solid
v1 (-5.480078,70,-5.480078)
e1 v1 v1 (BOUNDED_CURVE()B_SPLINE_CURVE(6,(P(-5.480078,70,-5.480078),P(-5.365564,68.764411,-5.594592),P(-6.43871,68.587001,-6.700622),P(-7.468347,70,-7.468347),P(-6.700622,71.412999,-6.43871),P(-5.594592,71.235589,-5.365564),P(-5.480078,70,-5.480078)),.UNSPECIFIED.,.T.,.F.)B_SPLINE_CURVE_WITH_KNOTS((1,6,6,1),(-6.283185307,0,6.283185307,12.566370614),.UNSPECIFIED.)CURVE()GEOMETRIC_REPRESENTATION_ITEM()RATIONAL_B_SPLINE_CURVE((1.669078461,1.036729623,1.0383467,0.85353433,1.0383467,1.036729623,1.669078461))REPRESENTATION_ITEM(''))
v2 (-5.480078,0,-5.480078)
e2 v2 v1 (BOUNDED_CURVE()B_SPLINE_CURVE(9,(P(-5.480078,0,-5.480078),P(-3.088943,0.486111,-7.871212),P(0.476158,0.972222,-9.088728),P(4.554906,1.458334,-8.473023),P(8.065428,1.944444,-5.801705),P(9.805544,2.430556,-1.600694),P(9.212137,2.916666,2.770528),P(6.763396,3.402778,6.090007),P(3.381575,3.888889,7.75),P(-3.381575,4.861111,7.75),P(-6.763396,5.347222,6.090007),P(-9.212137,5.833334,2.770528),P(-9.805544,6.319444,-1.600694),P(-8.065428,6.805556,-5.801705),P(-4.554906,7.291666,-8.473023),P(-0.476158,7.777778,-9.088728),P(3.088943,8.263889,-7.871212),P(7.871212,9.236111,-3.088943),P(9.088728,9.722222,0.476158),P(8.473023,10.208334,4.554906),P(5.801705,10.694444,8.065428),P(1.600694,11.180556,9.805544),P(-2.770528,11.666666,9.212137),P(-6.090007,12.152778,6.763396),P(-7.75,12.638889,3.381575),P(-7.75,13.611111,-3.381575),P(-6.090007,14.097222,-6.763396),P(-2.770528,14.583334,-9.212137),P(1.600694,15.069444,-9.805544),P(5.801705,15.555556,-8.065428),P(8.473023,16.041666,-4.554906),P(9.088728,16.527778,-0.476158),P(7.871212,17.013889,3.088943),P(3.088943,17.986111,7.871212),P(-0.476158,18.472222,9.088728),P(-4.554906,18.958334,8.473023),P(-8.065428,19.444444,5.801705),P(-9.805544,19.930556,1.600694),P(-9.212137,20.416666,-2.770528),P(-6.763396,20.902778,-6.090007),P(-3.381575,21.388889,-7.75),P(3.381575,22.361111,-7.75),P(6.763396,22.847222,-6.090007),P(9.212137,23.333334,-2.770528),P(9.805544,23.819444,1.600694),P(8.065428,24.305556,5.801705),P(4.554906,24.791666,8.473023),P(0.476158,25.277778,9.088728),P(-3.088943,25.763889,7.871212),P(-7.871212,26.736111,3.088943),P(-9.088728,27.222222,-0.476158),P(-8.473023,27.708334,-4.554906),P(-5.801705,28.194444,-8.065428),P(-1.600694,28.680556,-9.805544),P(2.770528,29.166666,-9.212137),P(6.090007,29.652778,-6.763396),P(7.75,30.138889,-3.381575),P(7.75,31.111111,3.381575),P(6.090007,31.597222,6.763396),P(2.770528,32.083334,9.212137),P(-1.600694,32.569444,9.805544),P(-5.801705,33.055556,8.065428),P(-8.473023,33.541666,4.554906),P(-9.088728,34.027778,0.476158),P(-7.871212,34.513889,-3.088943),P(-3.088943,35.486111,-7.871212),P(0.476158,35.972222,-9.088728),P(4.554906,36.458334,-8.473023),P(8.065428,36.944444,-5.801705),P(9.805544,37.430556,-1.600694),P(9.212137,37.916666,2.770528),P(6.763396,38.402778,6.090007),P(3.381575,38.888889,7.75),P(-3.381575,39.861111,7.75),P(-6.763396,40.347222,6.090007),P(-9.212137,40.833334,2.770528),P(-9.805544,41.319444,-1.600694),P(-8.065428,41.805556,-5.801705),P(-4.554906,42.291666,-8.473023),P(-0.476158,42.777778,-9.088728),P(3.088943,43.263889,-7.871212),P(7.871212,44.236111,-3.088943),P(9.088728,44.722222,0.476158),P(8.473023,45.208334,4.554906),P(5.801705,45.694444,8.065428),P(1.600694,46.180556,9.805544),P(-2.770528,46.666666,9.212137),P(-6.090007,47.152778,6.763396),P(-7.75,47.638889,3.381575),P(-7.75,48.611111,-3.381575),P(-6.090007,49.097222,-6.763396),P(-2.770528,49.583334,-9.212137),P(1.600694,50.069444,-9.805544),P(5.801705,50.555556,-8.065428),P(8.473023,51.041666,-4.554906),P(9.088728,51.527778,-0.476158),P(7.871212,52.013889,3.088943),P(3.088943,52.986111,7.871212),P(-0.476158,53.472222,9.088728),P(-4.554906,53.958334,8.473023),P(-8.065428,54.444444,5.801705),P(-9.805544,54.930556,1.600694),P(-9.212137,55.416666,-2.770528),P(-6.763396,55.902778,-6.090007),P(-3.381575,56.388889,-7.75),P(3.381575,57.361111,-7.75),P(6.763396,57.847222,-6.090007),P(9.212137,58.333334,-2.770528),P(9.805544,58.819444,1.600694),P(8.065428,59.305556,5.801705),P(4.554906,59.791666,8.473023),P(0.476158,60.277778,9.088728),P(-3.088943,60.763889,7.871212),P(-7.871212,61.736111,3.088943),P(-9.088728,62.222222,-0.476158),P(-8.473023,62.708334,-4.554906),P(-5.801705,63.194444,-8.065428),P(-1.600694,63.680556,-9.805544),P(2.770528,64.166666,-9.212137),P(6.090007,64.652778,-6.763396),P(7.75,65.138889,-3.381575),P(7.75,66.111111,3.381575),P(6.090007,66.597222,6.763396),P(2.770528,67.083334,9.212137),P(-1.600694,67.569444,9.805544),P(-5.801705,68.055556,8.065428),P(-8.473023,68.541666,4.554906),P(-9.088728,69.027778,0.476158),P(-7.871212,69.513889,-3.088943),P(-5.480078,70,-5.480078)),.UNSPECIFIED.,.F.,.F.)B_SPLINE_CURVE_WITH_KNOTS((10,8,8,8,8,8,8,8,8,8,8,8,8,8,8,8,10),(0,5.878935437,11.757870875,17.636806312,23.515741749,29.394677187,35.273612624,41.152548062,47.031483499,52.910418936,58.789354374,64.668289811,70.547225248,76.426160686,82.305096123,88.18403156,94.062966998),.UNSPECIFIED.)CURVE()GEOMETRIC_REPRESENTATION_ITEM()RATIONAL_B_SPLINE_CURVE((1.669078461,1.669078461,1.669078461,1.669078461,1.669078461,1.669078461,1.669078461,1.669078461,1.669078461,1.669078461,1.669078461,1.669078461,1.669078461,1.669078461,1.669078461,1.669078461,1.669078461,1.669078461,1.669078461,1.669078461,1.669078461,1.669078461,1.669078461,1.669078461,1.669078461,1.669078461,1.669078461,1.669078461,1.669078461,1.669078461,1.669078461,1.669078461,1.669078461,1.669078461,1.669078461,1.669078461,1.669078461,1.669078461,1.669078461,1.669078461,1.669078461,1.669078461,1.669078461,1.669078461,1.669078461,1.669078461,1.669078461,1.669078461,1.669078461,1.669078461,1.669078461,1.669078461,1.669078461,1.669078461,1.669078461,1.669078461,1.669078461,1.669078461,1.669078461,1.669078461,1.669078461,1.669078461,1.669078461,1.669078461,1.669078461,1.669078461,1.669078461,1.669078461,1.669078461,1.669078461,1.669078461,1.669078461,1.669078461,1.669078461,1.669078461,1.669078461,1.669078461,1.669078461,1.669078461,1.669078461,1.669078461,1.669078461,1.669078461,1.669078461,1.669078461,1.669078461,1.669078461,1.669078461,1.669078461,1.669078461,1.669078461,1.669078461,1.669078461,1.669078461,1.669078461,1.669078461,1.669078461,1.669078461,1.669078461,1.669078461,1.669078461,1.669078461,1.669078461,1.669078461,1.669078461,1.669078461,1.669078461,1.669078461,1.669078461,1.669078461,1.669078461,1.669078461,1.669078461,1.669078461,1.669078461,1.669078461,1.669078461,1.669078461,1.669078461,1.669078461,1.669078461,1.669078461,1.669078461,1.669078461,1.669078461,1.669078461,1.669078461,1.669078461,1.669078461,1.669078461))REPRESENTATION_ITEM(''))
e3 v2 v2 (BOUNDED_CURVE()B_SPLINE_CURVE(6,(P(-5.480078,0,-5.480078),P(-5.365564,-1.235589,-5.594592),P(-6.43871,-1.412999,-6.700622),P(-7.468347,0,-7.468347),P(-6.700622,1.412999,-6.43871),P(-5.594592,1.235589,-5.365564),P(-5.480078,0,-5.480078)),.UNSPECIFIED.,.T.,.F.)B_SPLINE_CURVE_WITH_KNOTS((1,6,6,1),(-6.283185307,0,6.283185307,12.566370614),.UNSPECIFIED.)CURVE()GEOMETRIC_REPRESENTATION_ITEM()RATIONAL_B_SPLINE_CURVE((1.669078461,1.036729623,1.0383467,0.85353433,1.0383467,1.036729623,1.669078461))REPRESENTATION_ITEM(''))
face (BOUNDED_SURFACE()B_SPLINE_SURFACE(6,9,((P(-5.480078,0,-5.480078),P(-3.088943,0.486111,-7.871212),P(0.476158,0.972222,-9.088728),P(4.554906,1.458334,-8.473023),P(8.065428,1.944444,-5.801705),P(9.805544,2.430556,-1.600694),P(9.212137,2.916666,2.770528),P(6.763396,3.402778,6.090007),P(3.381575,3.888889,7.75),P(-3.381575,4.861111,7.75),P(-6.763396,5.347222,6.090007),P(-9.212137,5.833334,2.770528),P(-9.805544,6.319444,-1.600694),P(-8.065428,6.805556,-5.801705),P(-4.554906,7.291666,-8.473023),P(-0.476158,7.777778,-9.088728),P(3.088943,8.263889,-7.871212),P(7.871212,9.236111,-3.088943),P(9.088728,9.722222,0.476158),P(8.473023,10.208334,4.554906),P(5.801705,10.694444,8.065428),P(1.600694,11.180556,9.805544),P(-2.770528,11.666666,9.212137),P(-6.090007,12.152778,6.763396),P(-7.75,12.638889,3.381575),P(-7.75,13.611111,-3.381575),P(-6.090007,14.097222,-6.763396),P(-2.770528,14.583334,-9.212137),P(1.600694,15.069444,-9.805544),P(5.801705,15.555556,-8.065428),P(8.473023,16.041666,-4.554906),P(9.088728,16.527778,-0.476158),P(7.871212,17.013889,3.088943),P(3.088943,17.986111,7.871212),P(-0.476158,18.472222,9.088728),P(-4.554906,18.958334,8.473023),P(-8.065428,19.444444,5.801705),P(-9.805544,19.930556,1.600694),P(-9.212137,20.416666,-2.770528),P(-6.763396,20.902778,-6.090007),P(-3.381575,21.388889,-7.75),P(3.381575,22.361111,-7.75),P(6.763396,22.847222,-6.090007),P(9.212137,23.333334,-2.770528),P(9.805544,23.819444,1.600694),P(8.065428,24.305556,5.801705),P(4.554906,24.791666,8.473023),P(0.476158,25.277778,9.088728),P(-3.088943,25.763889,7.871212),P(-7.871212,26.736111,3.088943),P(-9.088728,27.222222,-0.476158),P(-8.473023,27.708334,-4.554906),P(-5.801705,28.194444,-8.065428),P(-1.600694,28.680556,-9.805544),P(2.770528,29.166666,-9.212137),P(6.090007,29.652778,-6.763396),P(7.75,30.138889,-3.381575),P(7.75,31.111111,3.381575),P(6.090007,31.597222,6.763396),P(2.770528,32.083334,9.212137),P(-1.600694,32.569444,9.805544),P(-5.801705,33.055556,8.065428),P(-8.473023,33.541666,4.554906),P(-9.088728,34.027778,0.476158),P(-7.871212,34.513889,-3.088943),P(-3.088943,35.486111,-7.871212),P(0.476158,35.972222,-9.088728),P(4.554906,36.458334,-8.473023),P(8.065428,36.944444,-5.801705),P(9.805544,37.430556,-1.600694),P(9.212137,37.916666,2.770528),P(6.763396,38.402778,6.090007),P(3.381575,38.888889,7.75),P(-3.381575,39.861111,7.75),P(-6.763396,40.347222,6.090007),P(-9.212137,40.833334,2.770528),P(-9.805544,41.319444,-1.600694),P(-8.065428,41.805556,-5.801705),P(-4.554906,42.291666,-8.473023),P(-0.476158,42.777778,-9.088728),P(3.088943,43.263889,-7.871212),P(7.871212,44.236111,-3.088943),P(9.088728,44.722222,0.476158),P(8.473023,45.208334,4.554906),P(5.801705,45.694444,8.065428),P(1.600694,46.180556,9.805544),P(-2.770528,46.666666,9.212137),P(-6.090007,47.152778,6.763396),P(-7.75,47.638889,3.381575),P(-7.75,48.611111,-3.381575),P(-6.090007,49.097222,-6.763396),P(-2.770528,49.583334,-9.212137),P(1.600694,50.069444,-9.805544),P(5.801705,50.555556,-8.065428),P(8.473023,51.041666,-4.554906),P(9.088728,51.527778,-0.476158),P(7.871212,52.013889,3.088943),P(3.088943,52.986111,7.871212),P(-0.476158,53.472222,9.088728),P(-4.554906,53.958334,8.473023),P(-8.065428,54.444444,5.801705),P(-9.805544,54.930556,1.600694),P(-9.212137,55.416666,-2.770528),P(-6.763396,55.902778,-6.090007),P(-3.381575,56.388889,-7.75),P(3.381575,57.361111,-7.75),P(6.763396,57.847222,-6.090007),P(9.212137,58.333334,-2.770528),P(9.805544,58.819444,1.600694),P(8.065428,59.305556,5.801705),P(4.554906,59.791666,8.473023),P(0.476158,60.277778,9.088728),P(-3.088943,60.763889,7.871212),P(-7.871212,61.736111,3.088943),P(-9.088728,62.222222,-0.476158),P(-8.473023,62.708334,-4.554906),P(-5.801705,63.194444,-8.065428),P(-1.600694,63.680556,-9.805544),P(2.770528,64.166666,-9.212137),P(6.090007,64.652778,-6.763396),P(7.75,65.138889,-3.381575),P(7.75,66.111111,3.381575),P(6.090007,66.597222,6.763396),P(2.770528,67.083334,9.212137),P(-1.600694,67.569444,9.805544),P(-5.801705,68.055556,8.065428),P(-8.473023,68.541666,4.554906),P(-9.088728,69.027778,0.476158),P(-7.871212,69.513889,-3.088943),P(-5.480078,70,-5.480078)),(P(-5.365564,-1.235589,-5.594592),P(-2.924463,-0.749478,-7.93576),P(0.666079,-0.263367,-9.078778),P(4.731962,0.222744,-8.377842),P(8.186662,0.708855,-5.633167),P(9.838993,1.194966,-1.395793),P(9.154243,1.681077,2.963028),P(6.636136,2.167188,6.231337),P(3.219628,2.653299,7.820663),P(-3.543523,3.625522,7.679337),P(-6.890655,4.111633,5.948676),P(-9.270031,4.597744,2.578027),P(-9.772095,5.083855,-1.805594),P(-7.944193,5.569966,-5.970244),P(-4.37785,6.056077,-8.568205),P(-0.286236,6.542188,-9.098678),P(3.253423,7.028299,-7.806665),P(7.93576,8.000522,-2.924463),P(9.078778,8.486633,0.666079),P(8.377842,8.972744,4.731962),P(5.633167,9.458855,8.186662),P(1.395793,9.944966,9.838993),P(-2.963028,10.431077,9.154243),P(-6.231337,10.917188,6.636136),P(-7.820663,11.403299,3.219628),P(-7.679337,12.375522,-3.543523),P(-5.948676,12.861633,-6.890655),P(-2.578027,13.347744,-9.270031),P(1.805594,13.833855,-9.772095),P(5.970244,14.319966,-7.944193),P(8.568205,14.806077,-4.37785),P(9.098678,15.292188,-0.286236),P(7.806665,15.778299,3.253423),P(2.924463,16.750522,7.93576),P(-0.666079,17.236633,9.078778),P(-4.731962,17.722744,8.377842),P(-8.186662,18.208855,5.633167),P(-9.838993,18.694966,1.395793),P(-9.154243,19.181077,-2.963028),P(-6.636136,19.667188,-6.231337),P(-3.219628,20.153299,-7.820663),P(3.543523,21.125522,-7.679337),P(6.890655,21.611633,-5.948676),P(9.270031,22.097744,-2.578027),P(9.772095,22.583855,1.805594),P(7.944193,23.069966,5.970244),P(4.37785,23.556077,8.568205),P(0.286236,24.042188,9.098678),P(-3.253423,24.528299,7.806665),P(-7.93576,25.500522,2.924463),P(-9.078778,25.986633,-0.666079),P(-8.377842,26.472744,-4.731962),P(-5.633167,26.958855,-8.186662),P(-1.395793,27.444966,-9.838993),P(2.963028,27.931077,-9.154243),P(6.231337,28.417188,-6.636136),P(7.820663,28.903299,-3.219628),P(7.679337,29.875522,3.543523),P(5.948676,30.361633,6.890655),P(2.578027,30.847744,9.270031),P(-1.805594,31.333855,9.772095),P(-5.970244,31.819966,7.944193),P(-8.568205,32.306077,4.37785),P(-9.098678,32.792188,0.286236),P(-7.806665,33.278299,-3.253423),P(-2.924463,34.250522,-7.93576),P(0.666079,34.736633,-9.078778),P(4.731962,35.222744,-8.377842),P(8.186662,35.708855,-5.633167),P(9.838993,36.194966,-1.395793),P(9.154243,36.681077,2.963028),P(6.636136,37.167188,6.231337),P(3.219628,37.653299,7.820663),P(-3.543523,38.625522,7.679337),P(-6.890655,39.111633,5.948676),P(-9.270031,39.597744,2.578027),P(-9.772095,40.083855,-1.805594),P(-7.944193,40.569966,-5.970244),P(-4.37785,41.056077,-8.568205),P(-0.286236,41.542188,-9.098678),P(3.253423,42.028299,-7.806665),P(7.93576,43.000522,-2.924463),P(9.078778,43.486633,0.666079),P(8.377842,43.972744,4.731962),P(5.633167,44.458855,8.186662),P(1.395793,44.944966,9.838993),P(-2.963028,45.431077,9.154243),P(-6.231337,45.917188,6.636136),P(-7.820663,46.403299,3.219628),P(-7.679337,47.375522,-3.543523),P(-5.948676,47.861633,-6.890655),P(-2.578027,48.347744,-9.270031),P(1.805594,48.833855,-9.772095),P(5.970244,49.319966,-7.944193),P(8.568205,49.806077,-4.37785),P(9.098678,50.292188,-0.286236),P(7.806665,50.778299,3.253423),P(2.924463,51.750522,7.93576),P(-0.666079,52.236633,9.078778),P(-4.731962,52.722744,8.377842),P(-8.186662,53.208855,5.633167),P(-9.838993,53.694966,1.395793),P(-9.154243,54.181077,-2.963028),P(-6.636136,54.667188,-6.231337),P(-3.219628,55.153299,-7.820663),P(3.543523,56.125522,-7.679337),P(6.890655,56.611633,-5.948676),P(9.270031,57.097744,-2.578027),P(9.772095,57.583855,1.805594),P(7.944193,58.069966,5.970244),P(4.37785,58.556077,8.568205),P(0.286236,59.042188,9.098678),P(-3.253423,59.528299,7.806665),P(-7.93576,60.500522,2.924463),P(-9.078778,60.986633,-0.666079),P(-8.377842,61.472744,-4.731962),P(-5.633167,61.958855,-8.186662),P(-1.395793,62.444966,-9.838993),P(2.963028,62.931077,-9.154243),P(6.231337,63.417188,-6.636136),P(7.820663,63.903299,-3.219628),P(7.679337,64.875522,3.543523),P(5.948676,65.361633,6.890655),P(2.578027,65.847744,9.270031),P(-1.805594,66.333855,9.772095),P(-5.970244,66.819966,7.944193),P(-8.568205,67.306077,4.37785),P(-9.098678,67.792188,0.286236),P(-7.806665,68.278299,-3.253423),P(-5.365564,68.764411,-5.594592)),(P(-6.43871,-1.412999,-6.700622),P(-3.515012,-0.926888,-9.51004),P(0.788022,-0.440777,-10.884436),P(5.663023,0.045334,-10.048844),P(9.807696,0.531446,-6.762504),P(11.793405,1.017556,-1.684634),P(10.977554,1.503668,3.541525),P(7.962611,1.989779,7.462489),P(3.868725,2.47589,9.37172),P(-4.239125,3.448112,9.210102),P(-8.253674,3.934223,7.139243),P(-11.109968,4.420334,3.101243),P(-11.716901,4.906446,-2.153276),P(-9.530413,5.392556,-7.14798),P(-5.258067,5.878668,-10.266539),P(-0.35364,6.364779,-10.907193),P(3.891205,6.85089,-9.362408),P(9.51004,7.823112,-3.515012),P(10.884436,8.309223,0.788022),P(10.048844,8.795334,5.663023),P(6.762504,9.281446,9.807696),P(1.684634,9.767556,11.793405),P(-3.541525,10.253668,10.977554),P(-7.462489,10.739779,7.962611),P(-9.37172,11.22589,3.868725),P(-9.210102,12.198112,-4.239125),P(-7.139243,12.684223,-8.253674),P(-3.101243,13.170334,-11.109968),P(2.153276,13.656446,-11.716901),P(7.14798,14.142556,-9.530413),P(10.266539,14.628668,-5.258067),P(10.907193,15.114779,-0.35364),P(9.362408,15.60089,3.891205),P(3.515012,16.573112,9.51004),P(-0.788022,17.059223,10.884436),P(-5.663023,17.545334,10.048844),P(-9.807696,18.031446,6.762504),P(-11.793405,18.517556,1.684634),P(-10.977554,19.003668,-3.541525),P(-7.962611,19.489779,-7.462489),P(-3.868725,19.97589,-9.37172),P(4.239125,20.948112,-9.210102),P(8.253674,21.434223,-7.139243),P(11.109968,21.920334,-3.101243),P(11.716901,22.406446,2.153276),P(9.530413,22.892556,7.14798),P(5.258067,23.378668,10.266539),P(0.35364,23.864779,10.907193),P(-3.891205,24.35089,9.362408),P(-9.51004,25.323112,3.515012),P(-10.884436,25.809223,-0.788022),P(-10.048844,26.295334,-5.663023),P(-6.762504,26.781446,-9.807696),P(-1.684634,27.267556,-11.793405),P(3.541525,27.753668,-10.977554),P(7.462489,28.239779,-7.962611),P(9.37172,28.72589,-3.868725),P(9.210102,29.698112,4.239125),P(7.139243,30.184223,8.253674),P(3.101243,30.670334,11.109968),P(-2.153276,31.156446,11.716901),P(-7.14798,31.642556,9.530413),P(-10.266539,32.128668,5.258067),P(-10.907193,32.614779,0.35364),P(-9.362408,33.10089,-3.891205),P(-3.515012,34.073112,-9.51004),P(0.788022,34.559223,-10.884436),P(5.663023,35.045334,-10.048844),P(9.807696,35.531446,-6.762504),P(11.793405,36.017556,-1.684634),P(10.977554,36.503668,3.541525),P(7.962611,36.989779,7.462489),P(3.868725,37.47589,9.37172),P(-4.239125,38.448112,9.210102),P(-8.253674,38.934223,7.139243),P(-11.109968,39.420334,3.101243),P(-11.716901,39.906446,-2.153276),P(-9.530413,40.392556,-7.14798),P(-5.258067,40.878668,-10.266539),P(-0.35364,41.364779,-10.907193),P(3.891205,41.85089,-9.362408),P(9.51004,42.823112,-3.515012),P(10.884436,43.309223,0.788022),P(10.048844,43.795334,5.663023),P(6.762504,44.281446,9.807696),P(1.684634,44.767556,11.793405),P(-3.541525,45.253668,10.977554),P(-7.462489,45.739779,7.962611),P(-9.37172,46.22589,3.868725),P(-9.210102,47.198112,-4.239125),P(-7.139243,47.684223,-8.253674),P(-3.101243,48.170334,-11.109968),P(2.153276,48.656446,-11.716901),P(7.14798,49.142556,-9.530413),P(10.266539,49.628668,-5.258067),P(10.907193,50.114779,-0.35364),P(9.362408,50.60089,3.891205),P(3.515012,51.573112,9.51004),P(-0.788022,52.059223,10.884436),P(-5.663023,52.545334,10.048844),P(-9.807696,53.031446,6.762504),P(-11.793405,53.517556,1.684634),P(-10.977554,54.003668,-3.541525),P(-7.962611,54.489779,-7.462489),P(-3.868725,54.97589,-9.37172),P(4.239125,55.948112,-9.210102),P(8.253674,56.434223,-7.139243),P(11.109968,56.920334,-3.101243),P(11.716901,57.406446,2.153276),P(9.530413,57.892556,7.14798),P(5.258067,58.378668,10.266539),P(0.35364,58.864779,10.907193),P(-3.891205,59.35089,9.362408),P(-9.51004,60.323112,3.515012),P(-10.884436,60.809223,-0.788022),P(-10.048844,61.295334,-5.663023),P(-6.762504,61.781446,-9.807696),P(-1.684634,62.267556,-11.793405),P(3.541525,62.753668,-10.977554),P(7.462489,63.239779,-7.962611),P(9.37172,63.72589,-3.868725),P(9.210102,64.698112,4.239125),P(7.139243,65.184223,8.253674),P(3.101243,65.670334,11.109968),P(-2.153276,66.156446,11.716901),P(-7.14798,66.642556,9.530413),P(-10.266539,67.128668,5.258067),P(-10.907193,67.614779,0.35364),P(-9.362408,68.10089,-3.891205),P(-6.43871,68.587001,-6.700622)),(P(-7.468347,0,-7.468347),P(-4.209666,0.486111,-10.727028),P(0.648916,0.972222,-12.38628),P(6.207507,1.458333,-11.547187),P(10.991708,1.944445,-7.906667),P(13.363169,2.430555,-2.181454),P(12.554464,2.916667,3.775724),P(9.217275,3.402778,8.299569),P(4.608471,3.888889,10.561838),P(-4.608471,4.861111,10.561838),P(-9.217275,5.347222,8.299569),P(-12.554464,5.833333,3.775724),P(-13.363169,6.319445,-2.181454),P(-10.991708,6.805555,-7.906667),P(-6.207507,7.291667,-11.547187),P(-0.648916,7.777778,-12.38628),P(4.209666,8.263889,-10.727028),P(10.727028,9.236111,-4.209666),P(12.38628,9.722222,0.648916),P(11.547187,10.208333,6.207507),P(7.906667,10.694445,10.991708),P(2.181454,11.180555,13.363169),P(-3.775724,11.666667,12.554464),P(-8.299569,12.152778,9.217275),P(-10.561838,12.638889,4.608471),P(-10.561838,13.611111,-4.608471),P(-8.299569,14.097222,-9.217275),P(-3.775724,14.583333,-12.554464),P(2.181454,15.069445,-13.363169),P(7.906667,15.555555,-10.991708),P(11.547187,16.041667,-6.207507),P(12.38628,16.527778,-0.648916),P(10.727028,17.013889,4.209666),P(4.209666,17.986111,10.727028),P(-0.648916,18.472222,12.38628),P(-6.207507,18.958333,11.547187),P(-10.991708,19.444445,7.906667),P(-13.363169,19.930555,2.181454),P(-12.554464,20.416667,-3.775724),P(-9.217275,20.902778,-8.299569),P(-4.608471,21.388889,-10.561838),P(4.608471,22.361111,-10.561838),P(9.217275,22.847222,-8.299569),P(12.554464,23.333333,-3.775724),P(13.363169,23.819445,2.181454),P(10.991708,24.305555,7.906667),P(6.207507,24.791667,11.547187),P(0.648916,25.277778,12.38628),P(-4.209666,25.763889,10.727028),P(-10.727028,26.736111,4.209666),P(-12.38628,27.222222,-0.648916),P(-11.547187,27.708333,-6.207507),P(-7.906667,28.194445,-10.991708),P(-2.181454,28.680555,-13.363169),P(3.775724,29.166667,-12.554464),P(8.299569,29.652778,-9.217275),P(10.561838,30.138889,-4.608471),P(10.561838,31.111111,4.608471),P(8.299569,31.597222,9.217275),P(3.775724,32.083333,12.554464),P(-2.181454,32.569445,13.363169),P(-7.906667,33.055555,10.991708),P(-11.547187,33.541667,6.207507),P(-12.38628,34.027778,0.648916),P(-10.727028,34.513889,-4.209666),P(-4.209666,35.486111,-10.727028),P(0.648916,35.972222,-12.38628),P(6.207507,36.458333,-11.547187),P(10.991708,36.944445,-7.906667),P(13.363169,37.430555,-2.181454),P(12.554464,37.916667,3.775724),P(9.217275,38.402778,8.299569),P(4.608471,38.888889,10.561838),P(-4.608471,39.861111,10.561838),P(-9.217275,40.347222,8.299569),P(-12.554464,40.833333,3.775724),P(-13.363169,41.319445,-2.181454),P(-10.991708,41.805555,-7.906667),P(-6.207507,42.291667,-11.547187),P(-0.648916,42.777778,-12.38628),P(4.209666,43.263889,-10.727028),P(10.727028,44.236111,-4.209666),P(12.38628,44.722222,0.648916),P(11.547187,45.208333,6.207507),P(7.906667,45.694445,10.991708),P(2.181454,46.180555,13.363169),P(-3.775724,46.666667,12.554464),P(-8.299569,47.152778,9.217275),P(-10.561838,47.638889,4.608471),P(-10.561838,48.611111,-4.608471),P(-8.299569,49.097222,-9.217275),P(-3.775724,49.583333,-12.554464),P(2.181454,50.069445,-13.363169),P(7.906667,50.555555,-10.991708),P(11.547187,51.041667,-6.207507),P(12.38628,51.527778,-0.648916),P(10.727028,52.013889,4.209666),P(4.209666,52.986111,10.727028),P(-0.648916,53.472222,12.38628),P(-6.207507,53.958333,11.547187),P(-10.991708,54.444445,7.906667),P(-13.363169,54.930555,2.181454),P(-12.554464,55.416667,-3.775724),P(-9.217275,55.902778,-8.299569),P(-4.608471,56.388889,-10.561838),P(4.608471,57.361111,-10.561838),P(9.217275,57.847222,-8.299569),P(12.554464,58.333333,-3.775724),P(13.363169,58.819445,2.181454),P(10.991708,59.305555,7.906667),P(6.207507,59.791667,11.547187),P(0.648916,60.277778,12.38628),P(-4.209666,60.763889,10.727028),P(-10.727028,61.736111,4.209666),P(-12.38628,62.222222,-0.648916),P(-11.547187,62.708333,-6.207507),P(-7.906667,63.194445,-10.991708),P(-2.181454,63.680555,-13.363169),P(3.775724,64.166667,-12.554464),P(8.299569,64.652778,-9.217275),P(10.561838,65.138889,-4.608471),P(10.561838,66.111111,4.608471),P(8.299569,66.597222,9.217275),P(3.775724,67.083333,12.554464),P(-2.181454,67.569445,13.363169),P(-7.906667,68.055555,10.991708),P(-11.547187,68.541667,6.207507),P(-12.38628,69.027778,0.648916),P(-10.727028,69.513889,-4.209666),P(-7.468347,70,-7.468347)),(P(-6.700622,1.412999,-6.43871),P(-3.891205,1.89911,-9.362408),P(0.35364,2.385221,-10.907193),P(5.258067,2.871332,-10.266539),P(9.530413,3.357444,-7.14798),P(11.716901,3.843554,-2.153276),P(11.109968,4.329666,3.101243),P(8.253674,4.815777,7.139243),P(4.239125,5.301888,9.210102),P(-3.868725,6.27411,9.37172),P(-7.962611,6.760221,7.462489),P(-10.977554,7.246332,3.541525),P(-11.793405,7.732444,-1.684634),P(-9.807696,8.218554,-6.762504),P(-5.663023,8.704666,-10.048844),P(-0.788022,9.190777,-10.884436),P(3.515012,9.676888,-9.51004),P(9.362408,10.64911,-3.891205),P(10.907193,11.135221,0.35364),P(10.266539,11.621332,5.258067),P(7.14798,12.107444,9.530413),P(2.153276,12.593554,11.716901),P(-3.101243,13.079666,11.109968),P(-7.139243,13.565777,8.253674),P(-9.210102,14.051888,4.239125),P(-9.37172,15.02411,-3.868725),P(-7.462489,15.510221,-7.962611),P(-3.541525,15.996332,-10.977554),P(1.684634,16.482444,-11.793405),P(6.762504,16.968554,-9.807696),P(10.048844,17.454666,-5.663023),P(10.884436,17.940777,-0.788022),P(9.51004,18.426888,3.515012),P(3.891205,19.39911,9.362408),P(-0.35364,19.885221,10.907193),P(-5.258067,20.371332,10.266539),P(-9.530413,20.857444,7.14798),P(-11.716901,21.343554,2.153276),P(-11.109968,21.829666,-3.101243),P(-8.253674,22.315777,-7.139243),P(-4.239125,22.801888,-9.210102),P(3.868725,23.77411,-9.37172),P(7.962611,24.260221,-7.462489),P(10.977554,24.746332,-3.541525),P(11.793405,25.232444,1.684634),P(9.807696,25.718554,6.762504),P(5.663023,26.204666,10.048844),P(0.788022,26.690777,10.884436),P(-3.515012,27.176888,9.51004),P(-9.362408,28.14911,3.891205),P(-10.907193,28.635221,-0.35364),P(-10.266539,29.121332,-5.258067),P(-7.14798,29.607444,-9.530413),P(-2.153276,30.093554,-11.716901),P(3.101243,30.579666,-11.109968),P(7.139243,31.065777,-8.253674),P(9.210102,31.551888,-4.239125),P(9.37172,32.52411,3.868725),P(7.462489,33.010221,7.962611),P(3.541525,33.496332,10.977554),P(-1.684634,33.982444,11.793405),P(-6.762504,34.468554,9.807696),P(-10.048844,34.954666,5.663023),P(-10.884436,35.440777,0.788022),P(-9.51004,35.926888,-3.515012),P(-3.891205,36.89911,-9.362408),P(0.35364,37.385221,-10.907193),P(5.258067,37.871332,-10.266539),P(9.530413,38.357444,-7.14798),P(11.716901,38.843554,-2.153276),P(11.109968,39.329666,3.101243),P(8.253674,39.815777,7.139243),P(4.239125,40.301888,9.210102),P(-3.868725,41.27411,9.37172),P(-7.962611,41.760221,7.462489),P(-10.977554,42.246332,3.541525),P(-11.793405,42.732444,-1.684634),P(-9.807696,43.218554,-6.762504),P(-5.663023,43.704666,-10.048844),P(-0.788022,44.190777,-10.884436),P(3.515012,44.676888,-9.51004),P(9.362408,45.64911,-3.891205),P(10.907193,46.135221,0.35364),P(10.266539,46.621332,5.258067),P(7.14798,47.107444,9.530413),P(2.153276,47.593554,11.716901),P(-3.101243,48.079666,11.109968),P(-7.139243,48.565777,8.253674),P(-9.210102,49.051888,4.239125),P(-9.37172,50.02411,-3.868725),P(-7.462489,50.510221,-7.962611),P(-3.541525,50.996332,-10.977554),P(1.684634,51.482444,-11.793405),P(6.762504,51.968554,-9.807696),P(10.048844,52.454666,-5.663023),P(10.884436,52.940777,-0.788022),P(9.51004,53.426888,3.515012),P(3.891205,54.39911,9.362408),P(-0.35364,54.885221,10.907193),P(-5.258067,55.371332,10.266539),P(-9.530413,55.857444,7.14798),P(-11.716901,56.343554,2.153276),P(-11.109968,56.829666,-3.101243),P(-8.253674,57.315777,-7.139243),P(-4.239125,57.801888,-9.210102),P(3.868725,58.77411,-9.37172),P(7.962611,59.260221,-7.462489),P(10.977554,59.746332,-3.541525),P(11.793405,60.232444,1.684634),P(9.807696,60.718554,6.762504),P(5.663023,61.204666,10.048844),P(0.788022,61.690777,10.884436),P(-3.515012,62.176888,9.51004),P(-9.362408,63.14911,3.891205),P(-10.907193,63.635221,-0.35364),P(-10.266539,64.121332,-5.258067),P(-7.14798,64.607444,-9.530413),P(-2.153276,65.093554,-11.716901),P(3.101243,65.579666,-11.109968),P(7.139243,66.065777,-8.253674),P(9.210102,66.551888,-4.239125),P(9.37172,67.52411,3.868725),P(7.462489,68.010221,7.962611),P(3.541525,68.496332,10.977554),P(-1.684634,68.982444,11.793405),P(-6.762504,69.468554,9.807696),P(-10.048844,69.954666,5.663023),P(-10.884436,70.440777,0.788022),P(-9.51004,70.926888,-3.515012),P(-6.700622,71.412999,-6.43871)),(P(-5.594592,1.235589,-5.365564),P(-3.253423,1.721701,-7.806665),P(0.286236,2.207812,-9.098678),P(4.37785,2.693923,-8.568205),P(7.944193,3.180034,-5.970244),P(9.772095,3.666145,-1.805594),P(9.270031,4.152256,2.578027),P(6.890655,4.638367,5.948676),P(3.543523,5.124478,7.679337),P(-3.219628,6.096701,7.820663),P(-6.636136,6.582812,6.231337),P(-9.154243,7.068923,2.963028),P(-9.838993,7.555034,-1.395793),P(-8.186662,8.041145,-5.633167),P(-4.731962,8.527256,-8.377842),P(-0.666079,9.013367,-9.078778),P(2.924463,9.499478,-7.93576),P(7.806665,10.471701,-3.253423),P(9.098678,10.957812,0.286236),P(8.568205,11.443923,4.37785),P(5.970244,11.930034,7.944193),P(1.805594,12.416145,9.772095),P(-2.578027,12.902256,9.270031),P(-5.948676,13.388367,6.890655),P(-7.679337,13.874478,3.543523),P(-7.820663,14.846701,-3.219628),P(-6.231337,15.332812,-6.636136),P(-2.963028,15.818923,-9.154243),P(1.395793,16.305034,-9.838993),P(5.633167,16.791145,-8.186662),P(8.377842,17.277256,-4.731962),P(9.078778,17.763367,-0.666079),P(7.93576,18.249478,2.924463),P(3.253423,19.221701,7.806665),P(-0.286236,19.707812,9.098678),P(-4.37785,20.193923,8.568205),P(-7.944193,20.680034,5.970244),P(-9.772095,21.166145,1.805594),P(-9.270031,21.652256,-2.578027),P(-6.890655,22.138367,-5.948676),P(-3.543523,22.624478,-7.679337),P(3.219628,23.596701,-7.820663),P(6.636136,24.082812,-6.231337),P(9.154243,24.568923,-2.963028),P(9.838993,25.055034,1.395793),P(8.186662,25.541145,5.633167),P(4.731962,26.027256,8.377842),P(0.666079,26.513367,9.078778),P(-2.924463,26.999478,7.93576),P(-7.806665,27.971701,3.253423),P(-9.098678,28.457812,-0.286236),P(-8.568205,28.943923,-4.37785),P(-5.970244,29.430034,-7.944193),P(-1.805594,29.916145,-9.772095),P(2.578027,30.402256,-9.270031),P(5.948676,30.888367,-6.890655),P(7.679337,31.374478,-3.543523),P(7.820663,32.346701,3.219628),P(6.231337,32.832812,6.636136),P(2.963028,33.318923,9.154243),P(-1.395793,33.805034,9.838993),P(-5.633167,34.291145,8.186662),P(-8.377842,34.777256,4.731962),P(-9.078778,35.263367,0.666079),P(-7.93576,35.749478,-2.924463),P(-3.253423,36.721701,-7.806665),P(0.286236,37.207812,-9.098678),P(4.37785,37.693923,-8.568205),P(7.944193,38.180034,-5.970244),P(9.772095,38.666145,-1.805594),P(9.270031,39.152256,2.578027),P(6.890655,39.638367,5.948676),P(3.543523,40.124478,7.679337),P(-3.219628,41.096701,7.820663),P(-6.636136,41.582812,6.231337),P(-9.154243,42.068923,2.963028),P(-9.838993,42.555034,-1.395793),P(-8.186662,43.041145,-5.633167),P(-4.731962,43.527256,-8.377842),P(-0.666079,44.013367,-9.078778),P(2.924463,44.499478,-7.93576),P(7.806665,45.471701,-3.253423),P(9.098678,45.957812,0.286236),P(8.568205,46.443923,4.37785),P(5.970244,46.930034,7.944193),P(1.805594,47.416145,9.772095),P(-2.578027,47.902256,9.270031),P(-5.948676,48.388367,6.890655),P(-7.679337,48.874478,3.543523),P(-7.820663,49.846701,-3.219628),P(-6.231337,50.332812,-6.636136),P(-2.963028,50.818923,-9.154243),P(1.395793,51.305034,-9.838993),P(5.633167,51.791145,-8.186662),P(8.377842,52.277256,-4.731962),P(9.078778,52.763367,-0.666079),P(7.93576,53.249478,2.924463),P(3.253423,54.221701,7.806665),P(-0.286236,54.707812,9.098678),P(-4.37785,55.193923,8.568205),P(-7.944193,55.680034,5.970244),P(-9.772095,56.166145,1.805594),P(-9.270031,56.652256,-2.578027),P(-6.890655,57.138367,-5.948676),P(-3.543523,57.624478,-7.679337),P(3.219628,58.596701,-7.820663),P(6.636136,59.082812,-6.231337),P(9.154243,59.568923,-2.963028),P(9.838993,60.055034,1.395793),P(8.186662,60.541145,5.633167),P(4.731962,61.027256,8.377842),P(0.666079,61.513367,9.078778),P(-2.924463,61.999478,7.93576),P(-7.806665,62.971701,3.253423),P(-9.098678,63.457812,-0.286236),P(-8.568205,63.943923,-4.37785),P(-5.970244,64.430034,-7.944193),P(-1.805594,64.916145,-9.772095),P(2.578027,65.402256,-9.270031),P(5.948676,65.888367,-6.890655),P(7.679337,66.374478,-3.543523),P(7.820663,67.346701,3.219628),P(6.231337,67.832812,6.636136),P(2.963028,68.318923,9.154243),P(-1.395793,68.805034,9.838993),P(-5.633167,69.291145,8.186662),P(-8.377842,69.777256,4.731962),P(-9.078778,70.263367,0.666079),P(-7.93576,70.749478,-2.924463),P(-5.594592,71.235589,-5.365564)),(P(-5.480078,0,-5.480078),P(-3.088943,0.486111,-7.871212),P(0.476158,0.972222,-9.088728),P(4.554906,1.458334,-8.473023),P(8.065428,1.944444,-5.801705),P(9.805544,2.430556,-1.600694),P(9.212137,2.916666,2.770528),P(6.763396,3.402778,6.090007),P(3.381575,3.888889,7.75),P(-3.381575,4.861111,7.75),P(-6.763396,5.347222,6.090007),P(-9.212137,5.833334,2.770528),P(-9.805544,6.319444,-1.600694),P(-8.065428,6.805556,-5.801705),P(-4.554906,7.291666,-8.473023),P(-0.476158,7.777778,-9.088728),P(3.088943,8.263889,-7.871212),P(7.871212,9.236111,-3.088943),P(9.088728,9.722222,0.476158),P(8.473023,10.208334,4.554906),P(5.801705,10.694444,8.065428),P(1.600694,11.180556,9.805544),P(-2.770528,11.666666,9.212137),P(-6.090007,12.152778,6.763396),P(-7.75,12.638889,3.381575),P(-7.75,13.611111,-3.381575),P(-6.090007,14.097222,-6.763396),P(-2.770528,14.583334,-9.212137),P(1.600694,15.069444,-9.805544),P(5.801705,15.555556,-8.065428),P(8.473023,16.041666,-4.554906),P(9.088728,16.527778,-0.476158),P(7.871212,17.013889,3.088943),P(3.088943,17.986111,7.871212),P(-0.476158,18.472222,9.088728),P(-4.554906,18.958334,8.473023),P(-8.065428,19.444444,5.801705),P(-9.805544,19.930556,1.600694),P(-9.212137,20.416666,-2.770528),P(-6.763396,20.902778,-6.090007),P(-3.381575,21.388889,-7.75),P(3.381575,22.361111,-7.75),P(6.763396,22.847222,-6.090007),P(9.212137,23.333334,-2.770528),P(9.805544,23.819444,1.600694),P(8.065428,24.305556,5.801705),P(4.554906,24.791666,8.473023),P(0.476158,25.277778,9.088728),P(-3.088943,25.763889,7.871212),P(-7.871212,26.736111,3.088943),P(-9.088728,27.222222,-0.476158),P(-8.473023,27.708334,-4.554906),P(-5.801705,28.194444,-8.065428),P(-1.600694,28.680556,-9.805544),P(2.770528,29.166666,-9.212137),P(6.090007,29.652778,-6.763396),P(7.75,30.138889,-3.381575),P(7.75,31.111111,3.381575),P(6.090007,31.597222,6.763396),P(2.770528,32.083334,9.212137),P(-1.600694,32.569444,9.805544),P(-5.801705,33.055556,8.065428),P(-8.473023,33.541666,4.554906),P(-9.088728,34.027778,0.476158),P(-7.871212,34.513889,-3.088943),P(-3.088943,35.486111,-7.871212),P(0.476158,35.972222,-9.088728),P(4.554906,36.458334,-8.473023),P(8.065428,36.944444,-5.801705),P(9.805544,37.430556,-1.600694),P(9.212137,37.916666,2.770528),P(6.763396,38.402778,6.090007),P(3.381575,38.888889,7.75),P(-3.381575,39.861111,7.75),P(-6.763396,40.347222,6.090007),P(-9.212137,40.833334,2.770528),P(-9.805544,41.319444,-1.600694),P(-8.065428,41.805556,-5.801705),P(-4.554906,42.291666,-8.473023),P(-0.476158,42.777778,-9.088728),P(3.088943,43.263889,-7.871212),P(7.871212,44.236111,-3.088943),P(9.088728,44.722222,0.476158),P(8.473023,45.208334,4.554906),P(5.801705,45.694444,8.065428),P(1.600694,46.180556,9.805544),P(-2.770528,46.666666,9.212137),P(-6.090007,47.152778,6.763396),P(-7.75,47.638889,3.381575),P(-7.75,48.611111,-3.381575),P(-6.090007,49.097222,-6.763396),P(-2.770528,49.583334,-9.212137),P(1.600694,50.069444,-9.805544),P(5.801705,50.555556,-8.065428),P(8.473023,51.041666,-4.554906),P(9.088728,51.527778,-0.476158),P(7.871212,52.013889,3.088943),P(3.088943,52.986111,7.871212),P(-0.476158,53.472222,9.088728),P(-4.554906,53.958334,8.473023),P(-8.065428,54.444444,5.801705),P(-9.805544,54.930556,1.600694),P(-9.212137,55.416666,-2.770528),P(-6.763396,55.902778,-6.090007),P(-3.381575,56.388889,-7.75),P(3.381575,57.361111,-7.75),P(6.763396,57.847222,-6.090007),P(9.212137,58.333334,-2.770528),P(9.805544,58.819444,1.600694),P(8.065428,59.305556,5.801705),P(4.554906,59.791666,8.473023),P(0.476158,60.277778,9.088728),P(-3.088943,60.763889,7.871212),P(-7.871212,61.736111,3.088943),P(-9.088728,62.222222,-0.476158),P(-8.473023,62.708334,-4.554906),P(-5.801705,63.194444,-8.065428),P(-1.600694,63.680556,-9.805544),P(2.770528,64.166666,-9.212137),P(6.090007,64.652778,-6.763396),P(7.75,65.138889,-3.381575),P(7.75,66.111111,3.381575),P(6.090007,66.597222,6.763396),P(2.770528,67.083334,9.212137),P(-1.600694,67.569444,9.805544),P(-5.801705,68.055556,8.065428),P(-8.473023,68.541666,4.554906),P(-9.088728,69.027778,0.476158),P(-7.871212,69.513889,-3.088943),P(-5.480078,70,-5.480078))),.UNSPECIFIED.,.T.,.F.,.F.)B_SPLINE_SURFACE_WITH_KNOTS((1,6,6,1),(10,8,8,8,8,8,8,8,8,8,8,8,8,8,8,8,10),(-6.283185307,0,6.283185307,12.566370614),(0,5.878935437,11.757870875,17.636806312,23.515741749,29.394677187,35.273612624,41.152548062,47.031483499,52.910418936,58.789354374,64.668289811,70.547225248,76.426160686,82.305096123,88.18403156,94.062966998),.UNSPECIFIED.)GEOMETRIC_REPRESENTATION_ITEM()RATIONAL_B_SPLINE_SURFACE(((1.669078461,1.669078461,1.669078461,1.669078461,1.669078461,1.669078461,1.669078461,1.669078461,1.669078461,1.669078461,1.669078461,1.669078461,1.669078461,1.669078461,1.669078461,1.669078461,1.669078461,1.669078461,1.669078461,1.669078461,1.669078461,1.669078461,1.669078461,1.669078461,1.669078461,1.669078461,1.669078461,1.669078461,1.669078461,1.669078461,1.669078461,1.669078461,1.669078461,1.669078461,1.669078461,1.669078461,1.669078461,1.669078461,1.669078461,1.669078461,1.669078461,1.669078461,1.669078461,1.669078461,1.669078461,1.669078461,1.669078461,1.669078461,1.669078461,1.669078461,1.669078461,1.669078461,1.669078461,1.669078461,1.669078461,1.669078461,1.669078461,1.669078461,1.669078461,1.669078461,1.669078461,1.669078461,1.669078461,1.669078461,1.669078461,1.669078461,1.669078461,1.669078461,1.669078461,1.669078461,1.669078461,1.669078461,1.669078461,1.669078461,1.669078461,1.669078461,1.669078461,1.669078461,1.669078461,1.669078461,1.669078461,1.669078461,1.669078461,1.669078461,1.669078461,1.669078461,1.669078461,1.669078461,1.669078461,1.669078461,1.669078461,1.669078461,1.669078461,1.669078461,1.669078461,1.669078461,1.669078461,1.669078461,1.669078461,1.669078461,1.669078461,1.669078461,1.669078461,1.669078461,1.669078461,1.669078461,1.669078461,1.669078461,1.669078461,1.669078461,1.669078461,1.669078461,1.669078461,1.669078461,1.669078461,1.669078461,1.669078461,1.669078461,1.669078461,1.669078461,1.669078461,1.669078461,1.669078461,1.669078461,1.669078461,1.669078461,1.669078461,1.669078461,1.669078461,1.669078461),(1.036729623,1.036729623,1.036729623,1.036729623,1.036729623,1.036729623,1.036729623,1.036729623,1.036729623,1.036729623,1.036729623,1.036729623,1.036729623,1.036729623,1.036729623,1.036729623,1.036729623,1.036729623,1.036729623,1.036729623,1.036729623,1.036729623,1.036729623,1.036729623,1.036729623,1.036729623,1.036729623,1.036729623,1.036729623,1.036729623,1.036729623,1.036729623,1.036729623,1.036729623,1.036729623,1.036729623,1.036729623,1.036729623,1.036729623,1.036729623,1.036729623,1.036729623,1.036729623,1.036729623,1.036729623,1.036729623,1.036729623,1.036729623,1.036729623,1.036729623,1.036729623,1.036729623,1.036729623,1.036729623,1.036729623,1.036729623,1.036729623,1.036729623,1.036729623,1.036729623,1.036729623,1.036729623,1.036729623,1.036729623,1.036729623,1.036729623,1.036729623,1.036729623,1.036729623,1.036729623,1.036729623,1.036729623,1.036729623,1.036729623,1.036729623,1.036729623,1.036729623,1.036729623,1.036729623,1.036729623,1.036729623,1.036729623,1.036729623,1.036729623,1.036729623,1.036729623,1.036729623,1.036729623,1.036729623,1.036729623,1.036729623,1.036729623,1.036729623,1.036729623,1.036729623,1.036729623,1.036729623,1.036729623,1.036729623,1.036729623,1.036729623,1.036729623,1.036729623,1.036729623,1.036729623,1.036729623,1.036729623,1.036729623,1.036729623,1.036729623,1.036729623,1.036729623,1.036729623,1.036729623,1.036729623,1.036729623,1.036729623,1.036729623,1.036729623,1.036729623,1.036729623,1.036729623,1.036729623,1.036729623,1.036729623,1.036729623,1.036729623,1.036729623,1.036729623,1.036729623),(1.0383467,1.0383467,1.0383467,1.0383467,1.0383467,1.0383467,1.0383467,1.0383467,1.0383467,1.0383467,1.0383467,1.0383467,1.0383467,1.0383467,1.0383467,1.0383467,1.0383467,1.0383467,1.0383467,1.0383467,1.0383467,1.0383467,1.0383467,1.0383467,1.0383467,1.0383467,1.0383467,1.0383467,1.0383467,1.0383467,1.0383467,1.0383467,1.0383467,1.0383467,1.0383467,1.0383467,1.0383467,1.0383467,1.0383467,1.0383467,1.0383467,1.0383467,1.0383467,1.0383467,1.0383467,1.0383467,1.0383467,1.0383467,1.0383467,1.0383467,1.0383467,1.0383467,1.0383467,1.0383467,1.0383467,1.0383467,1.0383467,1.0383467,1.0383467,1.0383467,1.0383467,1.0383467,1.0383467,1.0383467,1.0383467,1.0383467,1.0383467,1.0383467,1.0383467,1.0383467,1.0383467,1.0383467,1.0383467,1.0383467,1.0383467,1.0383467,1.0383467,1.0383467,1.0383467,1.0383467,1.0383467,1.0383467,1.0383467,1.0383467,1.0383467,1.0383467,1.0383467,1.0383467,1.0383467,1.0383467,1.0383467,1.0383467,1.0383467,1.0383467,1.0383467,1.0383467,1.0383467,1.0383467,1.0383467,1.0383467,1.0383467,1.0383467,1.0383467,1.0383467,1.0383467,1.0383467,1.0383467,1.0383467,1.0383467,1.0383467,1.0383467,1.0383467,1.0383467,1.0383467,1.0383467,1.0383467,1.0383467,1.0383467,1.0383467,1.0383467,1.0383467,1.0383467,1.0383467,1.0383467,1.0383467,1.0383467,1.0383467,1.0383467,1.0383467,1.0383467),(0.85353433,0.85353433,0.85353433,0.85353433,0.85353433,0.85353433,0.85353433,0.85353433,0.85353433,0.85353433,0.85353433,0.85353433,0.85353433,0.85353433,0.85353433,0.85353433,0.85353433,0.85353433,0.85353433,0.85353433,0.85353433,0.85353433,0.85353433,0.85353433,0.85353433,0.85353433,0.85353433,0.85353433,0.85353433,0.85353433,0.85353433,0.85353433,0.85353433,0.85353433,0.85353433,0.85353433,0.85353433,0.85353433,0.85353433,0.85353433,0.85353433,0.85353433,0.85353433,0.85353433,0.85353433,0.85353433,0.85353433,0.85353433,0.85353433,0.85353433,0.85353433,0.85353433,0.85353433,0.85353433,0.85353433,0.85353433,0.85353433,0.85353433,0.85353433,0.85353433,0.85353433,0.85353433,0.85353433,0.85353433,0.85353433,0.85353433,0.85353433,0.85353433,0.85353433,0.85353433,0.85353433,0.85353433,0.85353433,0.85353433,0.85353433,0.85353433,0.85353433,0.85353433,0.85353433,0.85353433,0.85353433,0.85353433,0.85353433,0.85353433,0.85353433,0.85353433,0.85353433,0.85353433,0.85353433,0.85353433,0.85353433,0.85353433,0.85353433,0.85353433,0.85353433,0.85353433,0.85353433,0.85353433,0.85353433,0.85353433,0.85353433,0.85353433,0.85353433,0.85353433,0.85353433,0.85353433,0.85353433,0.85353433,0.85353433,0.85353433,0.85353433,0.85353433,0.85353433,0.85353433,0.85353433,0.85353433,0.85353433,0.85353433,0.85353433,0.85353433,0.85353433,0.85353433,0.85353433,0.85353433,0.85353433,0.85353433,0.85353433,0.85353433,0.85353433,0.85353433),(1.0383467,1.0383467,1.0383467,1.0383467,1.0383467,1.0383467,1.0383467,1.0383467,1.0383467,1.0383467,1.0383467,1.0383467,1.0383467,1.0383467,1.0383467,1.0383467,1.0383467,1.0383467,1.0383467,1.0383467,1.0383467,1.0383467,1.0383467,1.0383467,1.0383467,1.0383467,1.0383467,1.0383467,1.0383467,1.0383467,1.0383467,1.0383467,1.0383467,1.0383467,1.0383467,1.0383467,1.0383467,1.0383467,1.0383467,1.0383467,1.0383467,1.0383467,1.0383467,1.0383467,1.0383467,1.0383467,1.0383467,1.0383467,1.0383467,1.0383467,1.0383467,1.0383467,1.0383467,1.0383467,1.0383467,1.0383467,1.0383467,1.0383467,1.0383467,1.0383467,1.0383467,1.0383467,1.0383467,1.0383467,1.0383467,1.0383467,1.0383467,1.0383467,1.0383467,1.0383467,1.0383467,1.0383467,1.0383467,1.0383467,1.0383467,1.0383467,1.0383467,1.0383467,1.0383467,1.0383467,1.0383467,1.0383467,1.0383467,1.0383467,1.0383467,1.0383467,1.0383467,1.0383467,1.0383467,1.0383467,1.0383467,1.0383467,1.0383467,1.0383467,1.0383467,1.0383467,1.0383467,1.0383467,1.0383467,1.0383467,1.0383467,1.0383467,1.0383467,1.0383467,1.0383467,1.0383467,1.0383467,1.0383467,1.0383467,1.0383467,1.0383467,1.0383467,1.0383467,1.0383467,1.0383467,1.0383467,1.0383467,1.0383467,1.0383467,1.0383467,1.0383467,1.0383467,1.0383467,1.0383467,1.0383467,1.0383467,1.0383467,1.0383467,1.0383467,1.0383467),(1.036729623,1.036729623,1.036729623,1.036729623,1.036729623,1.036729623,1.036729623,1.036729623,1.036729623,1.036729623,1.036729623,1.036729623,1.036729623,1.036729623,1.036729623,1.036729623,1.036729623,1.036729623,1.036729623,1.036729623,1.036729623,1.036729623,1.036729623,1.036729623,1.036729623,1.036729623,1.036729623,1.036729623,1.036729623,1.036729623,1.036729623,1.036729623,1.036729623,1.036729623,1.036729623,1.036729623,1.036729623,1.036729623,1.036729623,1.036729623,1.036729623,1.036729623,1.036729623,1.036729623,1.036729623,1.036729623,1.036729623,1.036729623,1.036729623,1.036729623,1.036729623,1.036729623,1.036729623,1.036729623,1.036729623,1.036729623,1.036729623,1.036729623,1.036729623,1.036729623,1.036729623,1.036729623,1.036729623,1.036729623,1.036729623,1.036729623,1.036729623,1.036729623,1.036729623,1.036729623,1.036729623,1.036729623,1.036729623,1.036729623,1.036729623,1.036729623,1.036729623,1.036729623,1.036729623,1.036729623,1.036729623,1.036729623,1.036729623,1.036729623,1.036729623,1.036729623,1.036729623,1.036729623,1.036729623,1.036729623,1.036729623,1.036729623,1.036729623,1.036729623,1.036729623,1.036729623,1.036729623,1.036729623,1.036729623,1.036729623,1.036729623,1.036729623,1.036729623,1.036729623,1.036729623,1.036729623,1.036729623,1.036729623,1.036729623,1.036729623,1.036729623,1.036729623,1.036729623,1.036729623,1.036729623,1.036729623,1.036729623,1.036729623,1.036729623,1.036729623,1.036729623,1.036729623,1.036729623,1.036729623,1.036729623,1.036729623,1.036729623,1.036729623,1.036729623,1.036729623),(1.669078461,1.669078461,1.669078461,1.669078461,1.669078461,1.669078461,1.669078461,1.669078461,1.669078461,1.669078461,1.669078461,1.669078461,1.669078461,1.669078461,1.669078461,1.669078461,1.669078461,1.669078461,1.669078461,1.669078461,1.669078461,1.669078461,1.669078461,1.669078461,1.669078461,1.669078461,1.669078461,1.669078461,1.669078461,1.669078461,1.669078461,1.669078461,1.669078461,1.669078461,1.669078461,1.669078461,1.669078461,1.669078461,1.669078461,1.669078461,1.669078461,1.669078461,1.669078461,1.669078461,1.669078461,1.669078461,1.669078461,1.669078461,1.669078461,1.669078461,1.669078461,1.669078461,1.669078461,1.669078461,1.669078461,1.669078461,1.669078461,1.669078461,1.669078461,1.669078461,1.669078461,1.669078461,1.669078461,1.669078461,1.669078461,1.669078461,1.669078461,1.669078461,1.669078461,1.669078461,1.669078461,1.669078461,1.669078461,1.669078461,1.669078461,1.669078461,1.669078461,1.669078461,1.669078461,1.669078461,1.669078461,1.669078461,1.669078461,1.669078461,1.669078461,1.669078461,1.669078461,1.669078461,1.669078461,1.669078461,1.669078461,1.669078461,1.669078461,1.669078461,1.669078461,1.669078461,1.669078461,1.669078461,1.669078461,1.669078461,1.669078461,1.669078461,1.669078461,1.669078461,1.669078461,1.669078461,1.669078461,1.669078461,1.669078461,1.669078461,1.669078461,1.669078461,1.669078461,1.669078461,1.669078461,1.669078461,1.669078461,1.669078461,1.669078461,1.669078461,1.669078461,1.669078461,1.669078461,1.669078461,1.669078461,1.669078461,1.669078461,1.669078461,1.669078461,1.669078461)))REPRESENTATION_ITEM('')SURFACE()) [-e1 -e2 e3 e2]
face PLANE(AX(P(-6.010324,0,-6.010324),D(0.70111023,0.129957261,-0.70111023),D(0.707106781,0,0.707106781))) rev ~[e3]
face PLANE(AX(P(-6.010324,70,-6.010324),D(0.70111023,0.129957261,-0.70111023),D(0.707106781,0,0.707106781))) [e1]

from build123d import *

# Parameters (mm, degrees)
SWEEP1_PITCH       = 7
SWEEP1_HEIGHT      = 70
SWEEP1_RADIUS      = 8.5
SWEEP1_START_ANGLE = -135
SWEEP1_PROFILE_R   = 0.75


with BuildPart() as part:
    # Sweep1: sweep along a helix
    with BuildLine() as sweep1_path:
        add(Helix(SWEEP1_PITCH, SWEEP1_HEIGHT, SWEEP1_RADIUS, center=(0, 0, 0), direction=(0, 1, 0), lefthand=True, mode=Mode.PRIVATE).rotate(Axis((0, 0, 0), (0, 1, 0)), SWEEP1_START_ANGLE))
    # Sweep1 profile (on start of the path) → Sweep1 (sweep)
    with BuildSketch(Plane(origin=(-6.01040764, 0, -6.01040764), x_dir=(0.7071067811865034, 0, 0.7071067811865915), z_dir=(0.7011102304298961, 0.12995726056361323, -0.7011102304298087))):
        Circle(SWEEP1_PROFILE_R)
    sweep(path=sweep1_path.line, is_frenet=True)


solid = part.part
